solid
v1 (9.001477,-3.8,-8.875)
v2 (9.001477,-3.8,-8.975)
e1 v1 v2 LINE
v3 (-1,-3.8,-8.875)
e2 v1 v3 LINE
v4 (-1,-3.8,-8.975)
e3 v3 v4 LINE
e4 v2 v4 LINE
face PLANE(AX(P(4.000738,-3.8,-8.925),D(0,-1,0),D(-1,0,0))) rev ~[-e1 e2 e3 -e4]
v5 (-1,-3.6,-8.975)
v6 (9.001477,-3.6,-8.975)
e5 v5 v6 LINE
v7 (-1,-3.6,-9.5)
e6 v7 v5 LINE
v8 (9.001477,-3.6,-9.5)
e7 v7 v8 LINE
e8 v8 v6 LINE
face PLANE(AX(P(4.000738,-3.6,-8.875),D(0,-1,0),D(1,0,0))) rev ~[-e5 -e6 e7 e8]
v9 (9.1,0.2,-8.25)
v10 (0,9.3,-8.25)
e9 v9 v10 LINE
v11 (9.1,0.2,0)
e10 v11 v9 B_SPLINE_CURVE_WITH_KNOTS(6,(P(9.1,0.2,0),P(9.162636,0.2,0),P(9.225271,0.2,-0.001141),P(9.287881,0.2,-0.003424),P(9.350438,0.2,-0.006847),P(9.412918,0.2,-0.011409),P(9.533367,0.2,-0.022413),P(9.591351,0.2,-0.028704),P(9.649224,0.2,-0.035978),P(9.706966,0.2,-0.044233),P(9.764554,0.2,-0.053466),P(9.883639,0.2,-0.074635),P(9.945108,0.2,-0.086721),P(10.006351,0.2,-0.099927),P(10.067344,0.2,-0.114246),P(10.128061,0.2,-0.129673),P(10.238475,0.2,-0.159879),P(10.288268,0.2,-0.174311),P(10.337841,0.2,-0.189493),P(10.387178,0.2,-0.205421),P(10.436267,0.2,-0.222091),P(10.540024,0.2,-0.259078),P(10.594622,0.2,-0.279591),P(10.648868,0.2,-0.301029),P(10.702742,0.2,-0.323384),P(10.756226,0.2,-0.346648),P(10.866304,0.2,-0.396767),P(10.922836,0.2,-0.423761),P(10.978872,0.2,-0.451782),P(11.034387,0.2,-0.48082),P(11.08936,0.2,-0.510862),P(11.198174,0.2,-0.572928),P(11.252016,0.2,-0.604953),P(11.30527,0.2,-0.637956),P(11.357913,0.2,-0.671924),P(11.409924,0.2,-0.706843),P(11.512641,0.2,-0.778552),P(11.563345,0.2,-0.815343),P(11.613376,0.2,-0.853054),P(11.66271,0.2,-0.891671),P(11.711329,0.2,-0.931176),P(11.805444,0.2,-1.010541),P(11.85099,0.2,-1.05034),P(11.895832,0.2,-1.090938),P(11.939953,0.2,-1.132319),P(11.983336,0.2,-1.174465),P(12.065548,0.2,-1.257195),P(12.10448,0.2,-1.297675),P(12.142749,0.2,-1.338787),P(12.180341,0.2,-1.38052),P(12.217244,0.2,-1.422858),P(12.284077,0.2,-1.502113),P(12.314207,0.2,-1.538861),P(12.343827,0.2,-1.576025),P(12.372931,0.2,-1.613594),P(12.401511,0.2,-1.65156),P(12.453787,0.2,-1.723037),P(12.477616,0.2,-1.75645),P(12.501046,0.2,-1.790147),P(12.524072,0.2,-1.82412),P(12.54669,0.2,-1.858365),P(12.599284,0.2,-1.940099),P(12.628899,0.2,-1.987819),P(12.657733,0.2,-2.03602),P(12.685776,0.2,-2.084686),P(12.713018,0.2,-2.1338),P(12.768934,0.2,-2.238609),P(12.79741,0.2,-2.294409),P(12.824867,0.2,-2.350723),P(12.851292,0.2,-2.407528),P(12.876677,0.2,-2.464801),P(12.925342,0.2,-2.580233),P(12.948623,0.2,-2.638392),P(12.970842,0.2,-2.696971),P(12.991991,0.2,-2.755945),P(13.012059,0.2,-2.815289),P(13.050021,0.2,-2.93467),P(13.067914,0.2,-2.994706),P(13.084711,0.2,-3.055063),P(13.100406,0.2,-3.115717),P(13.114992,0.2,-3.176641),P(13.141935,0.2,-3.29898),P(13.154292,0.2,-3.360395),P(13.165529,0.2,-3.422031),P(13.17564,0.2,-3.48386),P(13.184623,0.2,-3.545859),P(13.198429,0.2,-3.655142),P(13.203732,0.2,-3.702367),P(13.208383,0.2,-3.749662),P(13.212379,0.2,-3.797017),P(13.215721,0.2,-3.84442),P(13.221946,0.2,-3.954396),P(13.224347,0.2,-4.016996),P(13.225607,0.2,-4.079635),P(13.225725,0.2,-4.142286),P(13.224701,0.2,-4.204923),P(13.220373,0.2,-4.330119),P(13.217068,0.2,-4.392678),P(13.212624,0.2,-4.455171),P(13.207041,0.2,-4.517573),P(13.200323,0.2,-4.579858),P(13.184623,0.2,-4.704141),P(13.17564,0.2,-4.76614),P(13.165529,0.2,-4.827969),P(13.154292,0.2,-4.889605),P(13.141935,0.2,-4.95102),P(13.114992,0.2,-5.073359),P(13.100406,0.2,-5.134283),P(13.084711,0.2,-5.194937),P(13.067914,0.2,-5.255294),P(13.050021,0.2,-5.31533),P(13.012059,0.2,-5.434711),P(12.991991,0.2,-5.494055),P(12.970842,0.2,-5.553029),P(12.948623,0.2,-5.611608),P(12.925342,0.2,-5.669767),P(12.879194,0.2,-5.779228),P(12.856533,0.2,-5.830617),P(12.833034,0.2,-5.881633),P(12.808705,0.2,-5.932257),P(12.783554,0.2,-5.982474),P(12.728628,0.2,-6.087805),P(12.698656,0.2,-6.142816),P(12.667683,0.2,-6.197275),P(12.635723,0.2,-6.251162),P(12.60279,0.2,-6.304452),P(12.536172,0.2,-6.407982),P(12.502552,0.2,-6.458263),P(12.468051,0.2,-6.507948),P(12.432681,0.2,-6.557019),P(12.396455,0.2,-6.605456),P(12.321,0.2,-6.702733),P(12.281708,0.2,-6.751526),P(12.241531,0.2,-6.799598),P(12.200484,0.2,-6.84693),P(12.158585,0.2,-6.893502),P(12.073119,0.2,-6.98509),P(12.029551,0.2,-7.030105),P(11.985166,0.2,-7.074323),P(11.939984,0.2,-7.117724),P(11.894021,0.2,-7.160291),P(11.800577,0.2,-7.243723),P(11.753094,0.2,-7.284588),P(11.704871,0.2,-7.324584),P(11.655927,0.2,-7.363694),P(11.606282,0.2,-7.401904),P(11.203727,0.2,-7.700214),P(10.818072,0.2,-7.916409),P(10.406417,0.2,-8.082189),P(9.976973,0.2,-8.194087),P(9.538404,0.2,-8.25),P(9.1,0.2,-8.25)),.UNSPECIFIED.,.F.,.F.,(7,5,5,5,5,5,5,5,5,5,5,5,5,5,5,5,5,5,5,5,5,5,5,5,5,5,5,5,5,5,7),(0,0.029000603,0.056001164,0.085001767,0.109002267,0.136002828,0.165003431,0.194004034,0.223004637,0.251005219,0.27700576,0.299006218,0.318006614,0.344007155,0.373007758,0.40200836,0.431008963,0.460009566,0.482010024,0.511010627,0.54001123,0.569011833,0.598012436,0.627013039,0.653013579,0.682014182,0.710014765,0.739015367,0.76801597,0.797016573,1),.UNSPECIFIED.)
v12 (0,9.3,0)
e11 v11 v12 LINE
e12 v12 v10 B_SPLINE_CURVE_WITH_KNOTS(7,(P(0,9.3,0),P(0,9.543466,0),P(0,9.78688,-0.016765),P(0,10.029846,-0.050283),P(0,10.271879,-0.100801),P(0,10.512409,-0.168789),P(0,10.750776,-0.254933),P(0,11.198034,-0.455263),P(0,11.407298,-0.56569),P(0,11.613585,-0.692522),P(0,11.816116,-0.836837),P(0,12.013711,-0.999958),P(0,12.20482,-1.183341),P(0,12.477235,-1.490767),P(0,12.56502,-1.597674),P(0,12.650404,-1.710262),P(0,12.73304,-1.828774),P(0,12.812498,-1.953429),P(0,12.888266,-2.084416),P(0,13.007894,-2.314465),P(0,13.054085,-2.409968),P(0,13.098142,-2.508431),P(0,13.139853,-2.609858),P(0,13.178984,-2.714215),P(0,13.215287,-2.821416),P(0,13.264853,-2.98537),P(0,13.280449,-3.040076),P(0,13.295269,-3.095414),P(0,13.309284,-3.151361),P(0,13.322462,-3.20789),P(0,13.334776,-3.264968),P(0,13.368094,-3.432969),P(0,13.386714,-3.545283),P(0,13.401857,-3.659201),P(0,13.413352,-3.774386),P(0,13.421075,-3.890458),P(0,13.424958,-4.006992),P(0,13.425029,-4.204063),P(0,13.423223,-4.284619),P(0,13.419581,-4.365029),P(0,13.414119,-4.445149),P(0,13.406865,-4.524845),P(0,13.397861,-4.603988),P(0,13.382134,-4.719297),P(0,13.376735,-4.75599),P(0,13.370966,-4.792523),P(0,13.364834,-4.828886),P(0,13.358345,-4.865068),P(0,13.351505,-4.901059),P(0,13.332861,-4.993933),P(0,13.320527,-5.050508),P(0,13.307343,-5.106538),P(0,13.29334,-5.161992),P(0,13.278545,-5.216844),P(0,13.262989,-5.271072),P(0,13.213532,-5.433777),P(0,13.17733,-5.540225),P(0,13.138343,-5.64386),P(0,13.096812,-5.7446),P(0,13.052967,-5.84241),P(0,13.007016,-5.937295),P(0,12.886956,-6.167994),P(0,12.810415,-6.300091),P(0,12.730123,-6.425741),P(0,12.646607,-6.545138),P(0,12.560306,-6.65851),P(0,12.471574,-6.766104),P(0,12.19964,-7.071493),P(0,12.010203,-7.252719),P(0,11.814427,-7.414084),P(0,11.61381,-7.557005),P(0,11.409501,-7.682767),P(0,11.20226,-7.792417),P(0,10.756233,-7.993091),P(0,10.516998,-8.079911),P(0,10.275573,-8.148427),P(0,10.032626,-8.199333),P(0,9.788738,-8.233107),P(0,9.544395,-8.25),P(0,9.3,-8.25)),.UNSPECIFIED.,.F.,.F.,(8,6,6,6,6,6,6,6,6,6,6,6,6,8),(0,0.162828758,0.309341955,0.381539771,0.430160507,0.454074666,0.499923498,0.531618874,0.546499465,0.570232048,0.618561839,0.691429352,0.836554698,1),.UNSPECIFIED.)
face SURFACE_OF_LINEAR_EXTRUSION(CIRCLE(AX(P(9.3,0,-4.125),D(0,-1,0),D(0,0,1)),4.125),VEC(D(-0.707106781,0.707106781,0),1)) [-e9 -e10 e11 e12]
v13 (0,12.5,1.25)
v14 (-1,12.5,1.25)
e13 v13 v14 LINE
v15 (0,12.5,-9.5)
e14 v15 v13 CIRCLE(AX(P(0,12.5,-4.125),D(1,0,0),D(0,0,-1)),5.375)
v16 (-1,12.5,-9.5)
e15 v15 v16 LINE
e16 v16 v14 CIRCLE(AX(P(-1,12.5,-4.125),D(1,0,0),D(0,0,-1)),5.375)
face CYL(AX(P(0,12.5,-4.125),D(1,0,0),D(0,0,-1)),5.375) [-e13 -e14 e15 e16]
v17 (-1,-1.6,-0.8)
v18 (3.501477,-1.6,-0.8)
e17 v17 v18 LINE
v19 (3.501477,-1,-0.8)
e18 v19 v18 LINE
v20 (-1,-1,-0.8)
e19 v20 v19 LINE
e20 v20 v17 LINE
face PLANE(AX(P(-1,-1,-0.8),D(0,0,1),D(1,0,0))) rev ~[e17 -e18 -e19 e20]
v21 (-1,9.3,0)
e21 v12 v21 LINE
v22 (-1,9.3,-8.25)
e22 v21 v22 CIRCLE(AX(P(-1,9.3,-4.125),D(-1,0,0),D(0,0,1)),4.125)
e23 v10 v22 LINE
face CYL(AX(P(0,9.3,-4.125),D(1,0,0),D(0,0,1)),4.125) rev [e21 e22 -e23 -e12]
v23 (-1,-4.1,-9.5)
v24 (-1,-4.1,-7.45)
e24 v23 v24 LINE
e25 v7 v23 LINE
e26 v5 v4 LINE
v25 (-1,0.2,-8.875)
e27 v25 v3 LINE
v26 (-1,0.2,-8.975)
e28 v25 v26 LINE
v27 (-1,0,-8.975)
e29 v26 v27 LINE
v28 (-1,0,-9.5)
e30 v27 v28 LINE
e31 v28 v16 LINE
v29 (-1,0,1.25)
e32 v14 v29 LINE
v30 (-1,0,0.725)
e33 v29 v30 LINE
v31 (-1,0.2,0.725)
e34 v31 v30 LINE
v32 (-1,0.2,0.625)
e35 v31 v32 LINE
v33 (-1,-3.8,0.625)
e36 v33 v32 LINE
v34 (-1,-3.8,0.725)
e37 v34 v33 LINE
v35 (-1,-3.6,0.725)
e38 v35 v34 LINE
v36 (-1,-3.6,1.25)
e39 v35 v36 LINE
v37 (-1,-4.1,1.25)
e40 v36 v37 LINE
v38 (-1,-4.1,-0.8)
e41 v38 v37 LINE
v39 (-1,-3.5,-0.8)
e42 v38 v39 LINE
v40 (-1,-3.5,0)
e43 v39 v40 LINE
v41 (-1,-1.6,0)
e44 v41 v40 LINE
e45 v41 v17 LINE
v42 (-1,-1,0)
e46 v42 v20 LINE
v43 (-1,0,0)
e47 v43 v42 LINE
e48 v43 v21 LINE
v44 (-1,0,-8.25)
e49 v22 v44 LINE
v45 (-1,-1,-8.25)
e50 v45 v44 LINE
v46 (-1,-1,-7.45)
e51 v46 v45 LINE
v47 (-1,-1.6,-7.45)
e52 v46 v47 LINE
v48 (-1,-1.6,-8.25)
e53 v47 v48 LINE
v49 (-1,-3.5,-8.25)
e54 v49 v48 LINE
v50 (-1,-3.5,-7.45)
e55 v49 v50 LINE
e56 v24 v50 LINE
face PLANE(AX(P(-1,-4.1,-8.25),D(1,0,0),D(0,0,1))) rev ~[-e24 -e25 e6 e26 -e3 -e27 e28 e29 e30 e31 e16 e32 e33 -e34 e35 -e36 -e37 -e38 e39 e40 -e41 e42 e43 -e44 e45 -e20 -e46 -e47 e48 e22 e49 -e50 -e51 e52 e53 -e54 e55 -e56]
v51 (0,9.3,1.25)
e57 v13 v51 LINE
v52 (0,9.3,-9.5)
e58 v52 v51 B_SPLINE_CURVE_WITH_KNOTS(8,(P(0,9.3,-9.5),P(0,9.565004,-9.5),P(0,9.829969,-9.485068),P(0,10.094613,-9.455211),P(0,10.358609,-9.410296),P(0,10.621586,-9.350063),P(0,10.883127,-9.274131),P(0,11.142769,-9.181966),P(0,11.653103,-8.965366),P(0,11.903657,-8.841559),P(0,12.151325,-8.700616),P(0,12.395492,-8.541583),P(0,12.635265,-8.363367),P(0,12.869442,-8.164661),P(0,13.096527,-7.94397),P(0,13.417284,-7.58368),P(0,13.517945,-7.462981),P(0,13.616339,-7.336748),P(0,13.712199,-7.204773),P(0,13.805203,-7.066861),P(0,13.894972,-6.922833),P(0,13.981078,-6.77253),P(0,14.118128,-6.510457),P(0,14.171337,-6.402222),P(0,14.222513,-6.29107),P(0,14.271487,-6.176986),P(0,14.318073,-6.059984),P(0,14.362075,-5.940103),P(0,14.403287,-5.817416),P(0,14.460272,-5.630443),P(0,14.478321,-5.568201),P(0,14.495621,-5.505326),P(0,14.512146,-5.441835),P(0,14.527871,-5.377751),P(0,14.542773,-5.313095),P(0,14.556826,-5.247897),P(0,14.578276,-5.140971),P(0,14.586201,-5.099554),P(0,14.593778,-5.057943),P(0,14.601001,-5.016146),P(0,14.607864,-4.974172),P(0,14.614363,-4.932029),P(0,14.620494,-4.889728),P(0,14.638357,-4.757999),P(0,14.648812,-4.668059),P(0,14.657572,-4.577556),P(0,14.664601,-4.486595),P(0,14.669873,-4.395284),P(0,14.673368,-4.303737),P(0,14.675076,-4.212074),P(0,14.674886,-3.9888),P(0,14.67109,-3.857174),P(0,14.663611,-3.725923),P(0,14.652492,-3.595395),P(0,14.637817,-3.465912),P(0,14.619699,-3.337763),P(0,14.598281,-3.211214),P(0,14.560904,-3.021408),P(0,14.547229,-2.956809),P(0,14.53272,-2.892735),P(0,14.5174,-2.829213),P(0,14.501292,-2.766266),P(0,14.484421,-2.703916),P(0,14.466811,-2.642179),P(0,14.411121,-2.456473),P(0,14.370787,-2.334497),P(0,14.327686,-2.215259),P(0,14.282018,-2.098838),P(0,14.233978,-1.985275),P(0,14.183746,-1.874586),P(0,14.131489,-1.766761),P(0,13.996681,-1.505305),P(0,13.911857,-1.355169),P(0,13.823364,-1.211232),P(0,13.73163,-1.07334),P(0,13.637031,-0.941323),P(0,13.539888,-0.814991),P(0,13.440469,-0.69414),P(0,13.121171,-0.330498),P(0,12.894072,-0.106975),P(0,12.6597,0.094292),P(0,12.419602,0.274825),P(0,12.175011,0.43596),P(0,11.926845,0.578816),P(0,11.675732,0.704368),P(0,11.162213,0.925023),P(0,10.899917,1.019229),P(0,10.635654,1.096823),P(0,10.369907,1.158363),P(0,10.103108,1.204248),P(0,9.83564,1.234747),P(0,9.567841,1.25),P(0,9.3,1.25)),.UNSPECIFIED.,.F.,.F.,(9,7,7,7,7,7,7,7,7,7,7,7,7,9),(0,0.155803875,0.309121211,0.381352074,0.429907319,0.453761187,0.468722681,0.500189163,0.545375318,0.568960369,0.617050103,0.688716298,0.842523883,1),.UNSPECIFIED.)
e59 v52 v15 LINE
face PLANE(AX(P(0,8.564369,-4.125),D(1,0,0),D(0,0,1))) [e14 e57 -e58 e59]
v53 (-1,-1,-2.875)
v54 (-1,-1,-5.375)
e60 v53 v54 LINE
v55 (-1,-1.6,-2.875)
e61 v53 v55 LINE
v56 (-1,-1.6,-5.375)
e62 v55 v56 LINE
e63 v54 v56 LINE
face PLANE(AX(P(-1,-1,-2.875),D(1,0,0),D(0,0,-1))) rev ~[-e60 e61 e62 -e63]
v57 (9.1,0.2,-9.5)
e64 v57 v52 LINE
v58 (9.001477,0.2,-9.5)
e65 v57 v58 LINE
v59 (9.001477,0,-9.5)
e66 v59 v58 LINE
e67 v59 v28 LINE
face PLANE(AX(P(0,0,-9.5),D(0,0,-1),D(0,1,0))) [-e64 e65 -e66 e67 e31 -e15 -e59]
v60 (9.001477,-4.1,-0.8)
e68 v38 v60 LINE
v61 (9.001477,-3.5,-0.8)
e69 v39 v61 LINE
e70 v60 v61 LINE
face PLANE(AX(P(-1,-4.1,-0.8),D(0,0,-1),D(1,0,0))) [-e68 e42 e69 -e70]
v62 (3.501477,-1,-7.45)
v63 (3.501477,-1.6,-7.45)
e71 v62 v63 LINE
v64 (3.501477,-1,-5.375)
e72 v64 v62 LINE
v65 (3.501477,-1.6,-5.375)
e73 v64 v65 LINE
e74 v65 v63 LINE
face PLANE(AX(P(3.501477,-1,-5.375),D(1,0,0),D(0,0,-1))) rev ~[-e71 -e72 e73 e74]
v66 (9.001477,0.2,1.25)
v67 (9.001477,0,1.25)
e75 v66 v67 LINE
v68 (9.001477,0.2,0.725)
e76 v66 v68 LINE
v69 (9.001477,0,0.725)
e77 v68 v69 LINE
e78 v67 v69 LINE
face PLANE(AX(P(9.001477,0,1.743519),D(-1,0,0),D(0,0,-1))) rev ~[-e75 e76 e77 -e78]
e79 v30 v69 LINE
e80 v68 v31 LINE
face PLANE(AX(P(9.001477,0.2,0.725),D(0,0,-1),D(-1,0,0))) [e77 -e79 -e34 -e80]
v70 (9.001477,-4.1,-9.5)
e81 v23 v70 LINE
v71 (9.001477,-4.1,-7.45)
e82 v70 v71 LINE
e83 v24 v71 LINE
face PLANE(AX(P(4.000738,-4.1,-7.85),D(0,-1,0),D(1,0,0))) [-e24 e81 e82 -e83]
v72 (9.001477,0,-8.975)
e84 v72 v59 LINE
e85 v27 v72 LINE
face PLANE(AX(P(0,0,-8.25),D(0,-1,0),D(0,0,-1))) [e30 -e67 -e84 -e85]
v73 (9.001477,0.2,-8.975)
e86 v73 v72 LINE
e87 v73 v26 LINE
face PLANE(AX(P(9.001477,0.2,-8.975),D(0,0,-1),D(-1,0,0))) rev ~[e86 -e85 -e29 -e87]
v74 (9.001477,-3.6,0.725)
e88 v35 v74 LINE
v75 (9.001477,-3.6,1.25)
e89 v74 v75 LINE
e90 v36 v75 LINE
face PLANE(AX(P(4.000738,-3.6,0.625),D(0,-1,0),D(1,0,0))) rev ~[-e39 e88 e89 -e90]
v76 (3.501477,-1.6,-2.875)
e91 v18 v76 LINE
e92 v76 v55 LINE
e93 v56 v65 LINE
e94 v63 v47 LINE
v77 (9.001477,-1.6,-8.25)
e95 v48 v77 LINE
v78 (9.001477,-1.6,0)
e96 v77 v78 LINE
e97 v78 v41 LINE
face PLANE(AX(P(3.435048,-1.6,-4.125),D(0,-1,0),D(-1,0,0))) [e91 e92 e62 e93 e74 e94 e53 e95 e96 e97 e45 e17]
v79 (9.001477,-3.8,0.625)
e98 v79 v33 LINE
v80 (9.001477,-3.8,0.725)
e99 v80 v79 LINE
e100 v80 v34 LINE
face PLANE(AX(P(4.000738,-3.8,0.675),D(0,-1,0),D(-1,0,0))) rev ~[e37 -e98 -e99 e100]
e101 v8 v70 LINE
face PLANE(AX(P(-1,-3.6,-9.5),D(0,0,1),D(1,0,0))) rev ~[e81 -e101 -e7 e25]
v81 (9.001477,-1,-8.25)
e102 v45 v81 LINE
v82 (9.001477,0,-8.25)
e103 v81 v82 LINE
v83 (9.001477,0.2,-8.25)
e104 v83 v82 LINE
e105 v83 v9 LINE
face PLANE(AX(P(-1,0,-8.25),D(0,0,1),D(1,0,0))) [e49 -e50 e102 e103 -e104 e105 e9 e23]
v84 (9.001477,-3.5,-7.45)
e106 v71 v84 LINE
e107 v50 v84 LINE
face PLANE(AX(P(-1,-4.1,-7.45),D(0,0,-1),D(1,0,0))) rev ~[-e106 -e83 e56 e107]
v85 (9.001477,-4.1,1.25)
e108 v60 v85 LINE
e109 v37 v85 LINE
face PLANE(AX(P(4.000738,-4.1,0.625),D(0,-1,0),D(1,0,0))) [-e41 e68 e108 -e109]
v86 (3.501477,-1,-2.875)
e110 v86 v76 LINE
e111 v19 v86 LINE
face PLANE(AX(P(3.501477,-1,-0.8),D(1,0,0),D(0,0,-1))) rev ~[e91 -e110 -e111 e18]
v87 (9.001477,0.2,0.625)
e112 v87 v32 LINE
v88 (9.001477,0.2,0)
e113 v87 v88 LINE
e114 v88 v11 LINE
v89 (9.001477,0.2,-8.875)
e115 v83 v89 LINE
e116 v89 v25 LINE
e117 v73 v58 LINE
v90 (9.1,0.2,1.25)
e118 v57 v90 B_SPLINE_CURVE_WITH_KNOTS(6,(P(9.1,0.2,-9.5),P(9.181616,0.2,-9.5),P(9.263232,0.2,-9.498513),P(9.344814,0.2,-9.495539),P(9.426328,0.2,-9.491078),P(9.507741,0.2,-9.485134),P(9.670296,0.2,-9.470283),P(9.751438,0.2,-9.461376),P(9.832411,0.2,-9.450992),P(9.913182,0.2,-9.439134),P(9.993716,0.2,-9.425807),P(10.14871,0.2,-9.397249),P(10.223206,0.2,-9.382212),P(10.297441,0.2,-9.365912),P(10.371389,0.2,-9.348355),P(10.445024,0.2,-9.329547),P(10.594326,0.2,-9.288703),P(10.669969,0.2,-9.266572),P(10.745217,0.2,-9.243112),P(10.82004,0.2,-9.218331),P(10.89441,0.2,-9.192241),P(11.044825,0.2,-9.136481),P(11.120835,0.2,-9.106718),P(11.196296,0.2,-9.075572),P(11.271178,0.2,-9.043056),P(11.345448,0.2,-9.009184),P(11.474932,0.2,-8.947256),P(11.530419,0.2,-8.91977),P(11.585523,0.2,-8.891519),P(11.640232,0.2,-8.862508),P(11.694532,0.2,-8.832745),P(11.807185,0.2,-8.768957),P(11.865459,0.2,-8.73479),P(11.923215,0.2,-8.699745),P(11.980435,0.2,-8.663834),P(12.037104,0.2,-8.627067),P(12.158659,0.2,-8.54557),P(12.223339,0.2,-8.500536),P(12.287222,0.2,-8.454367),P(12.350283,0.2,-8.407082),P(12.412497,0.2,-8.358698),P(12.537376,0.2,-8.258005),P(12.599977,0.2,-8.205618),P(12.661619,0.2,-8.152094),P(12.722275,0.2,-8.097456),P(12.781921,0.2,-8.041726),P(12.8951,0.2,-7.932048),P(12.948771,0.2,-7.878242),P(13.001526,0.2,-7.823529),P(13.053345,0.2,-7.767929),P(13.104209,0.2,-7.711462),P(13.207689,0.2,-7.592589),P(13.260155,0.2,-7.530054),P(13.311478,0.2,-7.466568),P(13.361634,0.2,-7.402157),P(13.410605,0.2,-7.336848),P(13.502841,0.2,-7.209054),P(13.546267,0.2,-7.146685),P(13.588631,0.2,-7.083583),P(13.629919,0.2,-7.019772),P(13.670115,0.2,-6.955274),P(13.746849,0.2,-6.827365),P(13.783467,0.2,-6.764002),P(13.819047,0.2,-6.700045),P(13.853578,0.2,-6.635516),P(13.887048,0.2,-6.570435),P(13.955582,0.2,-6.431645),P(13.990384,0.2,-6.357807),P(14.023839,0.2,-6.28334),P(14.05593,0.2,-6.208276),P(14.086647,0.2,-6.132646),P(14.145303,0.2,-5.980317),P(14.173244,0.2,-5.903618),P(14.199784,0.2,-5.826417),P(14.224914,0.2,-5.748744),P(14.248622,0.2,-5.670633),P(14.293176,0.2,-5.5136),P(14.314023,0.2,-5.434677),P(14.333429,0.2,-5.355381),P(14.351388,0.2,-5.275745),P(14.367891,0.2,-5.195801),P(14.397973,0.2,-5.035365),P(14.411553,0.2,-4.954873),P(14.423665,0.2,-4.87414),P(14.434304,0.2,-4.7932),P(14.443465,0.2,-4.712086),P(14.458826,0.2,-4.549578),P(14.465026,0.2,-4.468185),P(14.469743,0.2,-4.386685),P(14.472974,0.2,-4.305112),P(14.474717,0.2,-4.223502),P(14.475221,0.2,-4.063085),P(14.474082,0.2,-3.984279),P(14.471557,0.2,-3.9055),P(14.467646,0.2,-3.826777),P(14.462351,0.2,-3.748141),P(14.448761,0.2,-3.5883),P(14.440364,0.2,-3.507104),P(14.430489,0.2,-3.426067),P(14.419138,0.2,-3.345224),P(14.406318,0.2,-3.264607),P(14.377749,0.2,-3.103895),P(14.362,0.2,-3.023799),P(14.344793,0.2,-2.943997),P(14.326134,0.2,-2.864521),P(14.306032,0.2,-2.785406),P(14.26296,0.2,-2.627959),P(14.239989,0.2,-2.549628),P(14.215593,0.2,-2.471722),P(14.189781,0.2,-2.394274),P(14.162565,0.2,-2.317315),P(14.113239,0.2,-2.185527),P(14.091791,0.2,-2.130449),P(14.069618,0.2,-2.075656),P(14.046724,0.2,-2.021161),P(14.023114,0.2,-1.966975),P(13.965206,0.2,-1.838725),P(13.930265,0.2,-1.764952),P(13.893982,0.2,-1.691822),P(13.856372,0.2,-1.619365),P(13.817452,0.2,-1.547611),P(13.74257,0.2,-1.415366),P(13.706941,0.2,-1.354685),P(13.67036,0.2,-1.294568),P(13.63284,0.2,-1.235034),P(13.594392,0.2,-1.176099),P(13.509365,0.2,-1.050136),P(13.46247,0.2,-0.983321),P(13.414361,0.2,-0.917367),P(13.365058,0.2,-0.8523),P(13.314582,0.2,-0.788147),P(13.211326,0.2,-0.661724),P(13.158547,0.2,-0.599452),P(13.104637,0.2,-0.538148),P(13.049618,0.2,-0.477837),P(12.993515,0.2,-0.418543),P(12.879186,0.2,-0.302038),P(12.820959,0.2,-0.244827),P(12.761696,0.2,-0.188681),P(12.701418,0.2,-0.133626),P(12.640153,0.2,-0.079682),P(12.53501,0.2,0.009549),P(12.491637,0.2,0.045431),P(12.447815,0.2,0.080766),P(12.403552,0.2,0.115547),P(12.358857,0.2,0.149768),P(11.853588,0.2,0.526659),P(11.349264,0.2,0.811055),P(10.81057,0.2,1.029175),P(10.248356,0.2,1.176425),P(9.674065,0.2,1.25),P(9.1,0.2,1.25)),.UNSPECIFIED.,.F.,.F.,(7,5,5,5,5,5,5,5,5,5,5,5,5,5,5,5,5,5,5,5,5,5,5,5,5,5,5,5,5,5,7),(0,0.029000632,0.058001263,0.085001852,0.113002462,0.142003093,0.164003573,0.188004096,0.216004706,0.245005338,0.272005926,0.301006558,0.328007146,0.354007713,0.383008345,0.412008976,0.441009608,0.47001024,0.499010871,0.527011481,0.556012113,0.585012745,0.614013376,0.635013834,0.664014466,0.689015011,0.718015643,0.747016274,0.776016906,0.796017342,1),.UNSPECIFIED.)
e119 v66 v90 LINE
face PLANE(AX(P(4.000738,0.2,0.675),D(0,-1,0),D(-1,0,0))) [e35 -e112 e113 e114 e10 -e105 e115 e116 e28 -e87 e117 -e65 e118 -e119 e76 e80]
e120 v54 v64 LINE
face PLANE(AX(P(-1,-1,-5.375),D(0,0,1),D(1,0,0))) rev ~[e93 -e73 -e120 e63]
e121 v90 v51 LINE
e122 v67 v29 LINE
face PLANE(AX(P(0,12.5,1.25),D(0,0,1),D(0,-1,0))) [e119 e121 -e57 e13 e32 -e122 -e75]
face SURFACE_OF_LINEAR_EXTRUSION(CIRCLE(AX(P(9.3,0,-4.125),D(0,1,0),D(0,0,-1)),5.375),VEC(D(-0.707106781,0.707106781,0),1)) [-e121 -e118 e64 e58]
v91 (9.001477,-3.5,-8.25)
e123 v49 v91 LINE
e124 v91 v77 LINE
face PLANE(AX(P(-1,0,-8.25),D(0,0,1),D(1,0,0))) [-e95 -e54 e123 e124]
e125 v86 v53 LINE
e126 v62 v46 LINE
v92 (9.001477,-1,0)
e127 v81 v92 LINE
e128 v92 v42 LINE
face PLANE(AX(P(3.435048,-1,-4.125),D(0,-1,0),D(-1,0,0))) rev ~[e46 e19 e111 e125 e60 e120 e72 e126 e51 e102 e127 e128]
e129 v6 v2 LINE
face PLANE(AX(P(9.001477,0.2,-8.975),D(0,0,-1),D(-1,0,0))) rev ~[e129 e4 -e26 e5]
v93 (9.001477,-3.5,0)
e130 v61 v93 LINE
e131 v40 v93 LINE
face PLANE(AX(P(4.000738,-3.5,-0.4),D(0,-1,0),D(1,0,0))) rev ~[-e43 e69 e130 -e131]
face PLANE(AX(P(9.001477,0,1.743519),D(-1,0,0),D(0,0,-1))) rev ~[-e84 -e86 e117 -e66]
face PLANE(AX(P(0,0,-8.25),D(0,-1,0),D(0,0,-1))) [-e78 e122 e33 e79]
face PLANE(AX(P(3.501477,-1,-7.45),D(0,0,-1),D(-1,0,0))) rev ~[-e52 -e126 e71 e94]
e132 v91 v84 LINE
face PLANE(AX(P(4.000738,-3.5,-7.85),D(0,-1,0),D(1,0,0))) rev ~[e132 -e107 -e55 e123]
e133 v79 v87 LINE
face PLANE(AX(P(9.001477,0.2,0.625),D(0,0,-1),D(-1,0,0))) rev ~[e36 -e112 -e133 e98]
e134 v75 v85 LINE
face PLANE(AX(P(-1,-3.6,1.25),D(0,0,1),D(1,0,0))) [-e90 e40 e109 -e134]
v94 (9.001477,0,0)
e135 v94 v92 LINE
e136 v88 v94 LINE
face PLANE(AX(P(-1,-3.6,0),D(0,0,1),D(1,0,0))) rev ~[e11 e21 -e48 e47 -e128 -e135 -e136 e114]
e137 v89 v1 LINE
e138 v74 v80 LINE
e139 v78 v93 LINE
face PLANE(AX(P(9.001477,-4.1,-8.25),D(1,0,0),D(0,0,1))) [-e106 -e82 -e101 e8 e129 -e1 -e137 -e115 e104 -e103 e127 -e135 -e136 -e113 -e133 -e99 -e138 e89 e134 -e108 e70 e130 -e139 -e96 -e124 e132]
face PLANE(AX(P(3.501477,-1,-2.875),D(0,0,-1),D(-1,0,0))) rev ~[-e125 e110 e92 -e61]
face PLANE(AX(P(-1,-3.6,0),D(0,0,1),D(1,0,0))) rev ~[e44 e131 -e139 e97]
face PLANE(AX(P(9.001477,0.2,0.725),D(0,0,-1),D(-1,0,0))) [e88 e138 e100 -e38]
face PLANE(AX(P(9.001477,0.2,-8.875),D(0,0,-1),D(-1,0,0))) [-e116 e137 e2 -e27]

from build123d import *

# Parameters (mm, degrees)
SKETCH3_W           = 22.864276312
SKETCH3_H           = 28.163711354
CUT_EXTRUDE1_DEPTH  = 24.243278598
BOSS_EXTRUDE1_DEPTH = 1
SKETCH6_W           = 10.001476891
SKETCH6_H           = 0.625
BOSS_EXTRUDE2_DEPTH = 3.6
SKETCH7_W           = 10.001476891
SKETCH7_H           = 1.25
BOSS_EXTRUDE3_DEPTH = 0.5
BOSS_EXTRUDE4_DEPTH = 0.6
SKETCH9_W           = 10.001476891
SKETCH9_H           = 0.1
CUT_EXTRUDE2_DEPTH  = 4
CUT_EXTRUDE3_DEPTH  = 0.2
SKETCH12_W          = 10.001476891
SKETCH12_H          = 0.8
BOSS_EXTRUDE5_DEPTH = 0.6


with BuildPart() as part:
    # Sweep1: sweep along a path in Sketch2
    with BuildLine(Plane.XY) as sweep1_path:
        Line((0, 0), (-15, 15))
    # Sketch1 → Sweep1 (sweep)
    with BuildSketch(Plane(origin=(0, 0, 0), x_dir=(1, 0, 0), z_dir=(0, 1, 0))):
        with BuildLine():
            Line((0, 0), (9.3, 0))
            ThreePointArc((9.3, 0), (13.425, 4.125), (9.3, 8.25))
            Line((9.3, 8.25), (0, 8.25))
            Line((0, 8.25), (0, 9.5))
            Line((0, 9.5), (9.3, 9.5))
            ThreePointArc((9.3, 9.5), (14.675, 4.125), (9.3, -1.25))
            Line((9.3, -1.25), (0, -1.25))
            Line((0, -1.25), (0, 0))
        make_face()
    sweep(path=sweep1_path.line)

    # Sketch3 → Cut-Extrude1 (cut, through all)
    with BuildSketch(Plane(origin=(0, 0, 0), x_dir=(0, 0, -1), z_dir=(-1, 0, 0))):
        with Locations((2.794700938, -13.471268798)):
            Rectangle(SKETCH3_W, SKETCH3_H)
    extrude(amount=CUT_EXTRUDE1_DEPTH, mode=Mode.SUBTRACT)

    # Sketch5 → Boss-Extrude1 (add)
    with BuildSketch(Plane(origin=(0, 0, 0), x_dir=(0, 0, -1), z_dir=(-1, 0, 0))):
        with BuildLine():
            Line((9.5, 0), (9.5, -12.5))
            ThreePointArc((9.5, -12.5), (4.125, -17.875), (-1.25, -12.5))
            Line((-1.25, -12.5), (-1.25, 0))
            Line((-1.25, 0), (0, 0))
            Line((0, 0), (0, -9.3))
            ThreePointArc((0, -9.3), (4.125, -13.425), (8.25, -9.3))
            Line((8.25, -9.3), (8.25, 0))
            Line((8.25, 0), (9.5, 0))
        make_face()
    extrude(amount=BOSS_EXTRUDE1_DEPTH)

    # Sketch6 → Boss-Extrude2 (add)
    with BuildSketch(Plane.XZ):
        with Locations((4.000738446, -8.5625)):
            Rectangle(SKETCH6_W, SKETCH6_H)
        with Locations((4.000738446, 0.3125)):
            Rectangle(SKETCH6_W, SKETCH6_H)
    extrude(amount=BOSS_EXTRUDE2_DEPTH)

    # Sketch7 → Boss-Extrude3 (add)
    with BuildSketch(Plane.XZ.offset(3.6)):
        with Locations((4.000738446, 0.625)):
            Rectangle(SKETCH7_W, SKETCH7_H)
        with Locations((4.000738446, -8.875)):
            Rectangle(SKETCH7_W, SKETCH7_H)
    extrude(amount=BOSS_EXTRUDE3_DEPTH)

    # Sketch8 → Boss-Extrude4 (add)
    with BuildSketch(Plane(origin=(0, -1, 0), x_dir=(-1, 0, 0), z_dir=(0, -1, 0))):
        Polygon((-9.001476891, 8.25), (-9.001476891, 0), (-3.501476891, 0), (1, 0), (1, 0.8), (-3.501476891, 0.8), (-3.501476891, 2.875), (1, 2.875), (1, 5.375), (-3.501476891, 5.375), (-3.501476891, 7.45), (1, 7.45), (1, 8.25), (-3.501476891, 8.25), align=None)
    extrude(amount=BOSS_EXTRUDE4_DEPTH)

    # Sketch9 → Cut-Extrude2 (cut)
    with BuildSketch(Plane(origin=(0, 0.2, 0), x_dir=(-1, 0, 0), z_dir=(0, -1, 0))):
        with Locations((-4.000738446, -0.675)):
            Rectangle(SKETCH9_W, SKETCH9_H)
        with Locations((-4.000738446, 8.925)):
            Rectangle(SKETCH9_W, SKETCH9_H)
    extrude(amount=CUT_EXTRUDE2_DEPTH, mode=Mode.SUBTRACT)

    # Sketch10 → Cut-Extrude3 (cut)
    with BuildSketch(Plane.XZ):
        Polygon((9.001476891, 0.725), (9.001476891, -8.875), (9.001476891, -10.300951844), (15.96659325, -10.300951844), (15.96659325, 1.743519047), (9.001476891, 1.743519047), align=None)
    extrude(amount=-CUT_EXTRUDE3_DEPTH, mode=Mode.SUBTRACT)

    # Sketch12 → Boss-Extrude5 (add)
    with BuildSketch(Plane.XZ.offset(4.1)):
        with Locations((4.000738446, -7.85)):
            Rectangle(SKETCH12_W, SKETCH12_H)
        with Locations((4.000738446, -0.4)):
            Rectangle(SKETCH12_W, SKETCH12_H)
    extrude(amount=-BOSS_EXTRUDE5_DEPTH)


solid = part.part
